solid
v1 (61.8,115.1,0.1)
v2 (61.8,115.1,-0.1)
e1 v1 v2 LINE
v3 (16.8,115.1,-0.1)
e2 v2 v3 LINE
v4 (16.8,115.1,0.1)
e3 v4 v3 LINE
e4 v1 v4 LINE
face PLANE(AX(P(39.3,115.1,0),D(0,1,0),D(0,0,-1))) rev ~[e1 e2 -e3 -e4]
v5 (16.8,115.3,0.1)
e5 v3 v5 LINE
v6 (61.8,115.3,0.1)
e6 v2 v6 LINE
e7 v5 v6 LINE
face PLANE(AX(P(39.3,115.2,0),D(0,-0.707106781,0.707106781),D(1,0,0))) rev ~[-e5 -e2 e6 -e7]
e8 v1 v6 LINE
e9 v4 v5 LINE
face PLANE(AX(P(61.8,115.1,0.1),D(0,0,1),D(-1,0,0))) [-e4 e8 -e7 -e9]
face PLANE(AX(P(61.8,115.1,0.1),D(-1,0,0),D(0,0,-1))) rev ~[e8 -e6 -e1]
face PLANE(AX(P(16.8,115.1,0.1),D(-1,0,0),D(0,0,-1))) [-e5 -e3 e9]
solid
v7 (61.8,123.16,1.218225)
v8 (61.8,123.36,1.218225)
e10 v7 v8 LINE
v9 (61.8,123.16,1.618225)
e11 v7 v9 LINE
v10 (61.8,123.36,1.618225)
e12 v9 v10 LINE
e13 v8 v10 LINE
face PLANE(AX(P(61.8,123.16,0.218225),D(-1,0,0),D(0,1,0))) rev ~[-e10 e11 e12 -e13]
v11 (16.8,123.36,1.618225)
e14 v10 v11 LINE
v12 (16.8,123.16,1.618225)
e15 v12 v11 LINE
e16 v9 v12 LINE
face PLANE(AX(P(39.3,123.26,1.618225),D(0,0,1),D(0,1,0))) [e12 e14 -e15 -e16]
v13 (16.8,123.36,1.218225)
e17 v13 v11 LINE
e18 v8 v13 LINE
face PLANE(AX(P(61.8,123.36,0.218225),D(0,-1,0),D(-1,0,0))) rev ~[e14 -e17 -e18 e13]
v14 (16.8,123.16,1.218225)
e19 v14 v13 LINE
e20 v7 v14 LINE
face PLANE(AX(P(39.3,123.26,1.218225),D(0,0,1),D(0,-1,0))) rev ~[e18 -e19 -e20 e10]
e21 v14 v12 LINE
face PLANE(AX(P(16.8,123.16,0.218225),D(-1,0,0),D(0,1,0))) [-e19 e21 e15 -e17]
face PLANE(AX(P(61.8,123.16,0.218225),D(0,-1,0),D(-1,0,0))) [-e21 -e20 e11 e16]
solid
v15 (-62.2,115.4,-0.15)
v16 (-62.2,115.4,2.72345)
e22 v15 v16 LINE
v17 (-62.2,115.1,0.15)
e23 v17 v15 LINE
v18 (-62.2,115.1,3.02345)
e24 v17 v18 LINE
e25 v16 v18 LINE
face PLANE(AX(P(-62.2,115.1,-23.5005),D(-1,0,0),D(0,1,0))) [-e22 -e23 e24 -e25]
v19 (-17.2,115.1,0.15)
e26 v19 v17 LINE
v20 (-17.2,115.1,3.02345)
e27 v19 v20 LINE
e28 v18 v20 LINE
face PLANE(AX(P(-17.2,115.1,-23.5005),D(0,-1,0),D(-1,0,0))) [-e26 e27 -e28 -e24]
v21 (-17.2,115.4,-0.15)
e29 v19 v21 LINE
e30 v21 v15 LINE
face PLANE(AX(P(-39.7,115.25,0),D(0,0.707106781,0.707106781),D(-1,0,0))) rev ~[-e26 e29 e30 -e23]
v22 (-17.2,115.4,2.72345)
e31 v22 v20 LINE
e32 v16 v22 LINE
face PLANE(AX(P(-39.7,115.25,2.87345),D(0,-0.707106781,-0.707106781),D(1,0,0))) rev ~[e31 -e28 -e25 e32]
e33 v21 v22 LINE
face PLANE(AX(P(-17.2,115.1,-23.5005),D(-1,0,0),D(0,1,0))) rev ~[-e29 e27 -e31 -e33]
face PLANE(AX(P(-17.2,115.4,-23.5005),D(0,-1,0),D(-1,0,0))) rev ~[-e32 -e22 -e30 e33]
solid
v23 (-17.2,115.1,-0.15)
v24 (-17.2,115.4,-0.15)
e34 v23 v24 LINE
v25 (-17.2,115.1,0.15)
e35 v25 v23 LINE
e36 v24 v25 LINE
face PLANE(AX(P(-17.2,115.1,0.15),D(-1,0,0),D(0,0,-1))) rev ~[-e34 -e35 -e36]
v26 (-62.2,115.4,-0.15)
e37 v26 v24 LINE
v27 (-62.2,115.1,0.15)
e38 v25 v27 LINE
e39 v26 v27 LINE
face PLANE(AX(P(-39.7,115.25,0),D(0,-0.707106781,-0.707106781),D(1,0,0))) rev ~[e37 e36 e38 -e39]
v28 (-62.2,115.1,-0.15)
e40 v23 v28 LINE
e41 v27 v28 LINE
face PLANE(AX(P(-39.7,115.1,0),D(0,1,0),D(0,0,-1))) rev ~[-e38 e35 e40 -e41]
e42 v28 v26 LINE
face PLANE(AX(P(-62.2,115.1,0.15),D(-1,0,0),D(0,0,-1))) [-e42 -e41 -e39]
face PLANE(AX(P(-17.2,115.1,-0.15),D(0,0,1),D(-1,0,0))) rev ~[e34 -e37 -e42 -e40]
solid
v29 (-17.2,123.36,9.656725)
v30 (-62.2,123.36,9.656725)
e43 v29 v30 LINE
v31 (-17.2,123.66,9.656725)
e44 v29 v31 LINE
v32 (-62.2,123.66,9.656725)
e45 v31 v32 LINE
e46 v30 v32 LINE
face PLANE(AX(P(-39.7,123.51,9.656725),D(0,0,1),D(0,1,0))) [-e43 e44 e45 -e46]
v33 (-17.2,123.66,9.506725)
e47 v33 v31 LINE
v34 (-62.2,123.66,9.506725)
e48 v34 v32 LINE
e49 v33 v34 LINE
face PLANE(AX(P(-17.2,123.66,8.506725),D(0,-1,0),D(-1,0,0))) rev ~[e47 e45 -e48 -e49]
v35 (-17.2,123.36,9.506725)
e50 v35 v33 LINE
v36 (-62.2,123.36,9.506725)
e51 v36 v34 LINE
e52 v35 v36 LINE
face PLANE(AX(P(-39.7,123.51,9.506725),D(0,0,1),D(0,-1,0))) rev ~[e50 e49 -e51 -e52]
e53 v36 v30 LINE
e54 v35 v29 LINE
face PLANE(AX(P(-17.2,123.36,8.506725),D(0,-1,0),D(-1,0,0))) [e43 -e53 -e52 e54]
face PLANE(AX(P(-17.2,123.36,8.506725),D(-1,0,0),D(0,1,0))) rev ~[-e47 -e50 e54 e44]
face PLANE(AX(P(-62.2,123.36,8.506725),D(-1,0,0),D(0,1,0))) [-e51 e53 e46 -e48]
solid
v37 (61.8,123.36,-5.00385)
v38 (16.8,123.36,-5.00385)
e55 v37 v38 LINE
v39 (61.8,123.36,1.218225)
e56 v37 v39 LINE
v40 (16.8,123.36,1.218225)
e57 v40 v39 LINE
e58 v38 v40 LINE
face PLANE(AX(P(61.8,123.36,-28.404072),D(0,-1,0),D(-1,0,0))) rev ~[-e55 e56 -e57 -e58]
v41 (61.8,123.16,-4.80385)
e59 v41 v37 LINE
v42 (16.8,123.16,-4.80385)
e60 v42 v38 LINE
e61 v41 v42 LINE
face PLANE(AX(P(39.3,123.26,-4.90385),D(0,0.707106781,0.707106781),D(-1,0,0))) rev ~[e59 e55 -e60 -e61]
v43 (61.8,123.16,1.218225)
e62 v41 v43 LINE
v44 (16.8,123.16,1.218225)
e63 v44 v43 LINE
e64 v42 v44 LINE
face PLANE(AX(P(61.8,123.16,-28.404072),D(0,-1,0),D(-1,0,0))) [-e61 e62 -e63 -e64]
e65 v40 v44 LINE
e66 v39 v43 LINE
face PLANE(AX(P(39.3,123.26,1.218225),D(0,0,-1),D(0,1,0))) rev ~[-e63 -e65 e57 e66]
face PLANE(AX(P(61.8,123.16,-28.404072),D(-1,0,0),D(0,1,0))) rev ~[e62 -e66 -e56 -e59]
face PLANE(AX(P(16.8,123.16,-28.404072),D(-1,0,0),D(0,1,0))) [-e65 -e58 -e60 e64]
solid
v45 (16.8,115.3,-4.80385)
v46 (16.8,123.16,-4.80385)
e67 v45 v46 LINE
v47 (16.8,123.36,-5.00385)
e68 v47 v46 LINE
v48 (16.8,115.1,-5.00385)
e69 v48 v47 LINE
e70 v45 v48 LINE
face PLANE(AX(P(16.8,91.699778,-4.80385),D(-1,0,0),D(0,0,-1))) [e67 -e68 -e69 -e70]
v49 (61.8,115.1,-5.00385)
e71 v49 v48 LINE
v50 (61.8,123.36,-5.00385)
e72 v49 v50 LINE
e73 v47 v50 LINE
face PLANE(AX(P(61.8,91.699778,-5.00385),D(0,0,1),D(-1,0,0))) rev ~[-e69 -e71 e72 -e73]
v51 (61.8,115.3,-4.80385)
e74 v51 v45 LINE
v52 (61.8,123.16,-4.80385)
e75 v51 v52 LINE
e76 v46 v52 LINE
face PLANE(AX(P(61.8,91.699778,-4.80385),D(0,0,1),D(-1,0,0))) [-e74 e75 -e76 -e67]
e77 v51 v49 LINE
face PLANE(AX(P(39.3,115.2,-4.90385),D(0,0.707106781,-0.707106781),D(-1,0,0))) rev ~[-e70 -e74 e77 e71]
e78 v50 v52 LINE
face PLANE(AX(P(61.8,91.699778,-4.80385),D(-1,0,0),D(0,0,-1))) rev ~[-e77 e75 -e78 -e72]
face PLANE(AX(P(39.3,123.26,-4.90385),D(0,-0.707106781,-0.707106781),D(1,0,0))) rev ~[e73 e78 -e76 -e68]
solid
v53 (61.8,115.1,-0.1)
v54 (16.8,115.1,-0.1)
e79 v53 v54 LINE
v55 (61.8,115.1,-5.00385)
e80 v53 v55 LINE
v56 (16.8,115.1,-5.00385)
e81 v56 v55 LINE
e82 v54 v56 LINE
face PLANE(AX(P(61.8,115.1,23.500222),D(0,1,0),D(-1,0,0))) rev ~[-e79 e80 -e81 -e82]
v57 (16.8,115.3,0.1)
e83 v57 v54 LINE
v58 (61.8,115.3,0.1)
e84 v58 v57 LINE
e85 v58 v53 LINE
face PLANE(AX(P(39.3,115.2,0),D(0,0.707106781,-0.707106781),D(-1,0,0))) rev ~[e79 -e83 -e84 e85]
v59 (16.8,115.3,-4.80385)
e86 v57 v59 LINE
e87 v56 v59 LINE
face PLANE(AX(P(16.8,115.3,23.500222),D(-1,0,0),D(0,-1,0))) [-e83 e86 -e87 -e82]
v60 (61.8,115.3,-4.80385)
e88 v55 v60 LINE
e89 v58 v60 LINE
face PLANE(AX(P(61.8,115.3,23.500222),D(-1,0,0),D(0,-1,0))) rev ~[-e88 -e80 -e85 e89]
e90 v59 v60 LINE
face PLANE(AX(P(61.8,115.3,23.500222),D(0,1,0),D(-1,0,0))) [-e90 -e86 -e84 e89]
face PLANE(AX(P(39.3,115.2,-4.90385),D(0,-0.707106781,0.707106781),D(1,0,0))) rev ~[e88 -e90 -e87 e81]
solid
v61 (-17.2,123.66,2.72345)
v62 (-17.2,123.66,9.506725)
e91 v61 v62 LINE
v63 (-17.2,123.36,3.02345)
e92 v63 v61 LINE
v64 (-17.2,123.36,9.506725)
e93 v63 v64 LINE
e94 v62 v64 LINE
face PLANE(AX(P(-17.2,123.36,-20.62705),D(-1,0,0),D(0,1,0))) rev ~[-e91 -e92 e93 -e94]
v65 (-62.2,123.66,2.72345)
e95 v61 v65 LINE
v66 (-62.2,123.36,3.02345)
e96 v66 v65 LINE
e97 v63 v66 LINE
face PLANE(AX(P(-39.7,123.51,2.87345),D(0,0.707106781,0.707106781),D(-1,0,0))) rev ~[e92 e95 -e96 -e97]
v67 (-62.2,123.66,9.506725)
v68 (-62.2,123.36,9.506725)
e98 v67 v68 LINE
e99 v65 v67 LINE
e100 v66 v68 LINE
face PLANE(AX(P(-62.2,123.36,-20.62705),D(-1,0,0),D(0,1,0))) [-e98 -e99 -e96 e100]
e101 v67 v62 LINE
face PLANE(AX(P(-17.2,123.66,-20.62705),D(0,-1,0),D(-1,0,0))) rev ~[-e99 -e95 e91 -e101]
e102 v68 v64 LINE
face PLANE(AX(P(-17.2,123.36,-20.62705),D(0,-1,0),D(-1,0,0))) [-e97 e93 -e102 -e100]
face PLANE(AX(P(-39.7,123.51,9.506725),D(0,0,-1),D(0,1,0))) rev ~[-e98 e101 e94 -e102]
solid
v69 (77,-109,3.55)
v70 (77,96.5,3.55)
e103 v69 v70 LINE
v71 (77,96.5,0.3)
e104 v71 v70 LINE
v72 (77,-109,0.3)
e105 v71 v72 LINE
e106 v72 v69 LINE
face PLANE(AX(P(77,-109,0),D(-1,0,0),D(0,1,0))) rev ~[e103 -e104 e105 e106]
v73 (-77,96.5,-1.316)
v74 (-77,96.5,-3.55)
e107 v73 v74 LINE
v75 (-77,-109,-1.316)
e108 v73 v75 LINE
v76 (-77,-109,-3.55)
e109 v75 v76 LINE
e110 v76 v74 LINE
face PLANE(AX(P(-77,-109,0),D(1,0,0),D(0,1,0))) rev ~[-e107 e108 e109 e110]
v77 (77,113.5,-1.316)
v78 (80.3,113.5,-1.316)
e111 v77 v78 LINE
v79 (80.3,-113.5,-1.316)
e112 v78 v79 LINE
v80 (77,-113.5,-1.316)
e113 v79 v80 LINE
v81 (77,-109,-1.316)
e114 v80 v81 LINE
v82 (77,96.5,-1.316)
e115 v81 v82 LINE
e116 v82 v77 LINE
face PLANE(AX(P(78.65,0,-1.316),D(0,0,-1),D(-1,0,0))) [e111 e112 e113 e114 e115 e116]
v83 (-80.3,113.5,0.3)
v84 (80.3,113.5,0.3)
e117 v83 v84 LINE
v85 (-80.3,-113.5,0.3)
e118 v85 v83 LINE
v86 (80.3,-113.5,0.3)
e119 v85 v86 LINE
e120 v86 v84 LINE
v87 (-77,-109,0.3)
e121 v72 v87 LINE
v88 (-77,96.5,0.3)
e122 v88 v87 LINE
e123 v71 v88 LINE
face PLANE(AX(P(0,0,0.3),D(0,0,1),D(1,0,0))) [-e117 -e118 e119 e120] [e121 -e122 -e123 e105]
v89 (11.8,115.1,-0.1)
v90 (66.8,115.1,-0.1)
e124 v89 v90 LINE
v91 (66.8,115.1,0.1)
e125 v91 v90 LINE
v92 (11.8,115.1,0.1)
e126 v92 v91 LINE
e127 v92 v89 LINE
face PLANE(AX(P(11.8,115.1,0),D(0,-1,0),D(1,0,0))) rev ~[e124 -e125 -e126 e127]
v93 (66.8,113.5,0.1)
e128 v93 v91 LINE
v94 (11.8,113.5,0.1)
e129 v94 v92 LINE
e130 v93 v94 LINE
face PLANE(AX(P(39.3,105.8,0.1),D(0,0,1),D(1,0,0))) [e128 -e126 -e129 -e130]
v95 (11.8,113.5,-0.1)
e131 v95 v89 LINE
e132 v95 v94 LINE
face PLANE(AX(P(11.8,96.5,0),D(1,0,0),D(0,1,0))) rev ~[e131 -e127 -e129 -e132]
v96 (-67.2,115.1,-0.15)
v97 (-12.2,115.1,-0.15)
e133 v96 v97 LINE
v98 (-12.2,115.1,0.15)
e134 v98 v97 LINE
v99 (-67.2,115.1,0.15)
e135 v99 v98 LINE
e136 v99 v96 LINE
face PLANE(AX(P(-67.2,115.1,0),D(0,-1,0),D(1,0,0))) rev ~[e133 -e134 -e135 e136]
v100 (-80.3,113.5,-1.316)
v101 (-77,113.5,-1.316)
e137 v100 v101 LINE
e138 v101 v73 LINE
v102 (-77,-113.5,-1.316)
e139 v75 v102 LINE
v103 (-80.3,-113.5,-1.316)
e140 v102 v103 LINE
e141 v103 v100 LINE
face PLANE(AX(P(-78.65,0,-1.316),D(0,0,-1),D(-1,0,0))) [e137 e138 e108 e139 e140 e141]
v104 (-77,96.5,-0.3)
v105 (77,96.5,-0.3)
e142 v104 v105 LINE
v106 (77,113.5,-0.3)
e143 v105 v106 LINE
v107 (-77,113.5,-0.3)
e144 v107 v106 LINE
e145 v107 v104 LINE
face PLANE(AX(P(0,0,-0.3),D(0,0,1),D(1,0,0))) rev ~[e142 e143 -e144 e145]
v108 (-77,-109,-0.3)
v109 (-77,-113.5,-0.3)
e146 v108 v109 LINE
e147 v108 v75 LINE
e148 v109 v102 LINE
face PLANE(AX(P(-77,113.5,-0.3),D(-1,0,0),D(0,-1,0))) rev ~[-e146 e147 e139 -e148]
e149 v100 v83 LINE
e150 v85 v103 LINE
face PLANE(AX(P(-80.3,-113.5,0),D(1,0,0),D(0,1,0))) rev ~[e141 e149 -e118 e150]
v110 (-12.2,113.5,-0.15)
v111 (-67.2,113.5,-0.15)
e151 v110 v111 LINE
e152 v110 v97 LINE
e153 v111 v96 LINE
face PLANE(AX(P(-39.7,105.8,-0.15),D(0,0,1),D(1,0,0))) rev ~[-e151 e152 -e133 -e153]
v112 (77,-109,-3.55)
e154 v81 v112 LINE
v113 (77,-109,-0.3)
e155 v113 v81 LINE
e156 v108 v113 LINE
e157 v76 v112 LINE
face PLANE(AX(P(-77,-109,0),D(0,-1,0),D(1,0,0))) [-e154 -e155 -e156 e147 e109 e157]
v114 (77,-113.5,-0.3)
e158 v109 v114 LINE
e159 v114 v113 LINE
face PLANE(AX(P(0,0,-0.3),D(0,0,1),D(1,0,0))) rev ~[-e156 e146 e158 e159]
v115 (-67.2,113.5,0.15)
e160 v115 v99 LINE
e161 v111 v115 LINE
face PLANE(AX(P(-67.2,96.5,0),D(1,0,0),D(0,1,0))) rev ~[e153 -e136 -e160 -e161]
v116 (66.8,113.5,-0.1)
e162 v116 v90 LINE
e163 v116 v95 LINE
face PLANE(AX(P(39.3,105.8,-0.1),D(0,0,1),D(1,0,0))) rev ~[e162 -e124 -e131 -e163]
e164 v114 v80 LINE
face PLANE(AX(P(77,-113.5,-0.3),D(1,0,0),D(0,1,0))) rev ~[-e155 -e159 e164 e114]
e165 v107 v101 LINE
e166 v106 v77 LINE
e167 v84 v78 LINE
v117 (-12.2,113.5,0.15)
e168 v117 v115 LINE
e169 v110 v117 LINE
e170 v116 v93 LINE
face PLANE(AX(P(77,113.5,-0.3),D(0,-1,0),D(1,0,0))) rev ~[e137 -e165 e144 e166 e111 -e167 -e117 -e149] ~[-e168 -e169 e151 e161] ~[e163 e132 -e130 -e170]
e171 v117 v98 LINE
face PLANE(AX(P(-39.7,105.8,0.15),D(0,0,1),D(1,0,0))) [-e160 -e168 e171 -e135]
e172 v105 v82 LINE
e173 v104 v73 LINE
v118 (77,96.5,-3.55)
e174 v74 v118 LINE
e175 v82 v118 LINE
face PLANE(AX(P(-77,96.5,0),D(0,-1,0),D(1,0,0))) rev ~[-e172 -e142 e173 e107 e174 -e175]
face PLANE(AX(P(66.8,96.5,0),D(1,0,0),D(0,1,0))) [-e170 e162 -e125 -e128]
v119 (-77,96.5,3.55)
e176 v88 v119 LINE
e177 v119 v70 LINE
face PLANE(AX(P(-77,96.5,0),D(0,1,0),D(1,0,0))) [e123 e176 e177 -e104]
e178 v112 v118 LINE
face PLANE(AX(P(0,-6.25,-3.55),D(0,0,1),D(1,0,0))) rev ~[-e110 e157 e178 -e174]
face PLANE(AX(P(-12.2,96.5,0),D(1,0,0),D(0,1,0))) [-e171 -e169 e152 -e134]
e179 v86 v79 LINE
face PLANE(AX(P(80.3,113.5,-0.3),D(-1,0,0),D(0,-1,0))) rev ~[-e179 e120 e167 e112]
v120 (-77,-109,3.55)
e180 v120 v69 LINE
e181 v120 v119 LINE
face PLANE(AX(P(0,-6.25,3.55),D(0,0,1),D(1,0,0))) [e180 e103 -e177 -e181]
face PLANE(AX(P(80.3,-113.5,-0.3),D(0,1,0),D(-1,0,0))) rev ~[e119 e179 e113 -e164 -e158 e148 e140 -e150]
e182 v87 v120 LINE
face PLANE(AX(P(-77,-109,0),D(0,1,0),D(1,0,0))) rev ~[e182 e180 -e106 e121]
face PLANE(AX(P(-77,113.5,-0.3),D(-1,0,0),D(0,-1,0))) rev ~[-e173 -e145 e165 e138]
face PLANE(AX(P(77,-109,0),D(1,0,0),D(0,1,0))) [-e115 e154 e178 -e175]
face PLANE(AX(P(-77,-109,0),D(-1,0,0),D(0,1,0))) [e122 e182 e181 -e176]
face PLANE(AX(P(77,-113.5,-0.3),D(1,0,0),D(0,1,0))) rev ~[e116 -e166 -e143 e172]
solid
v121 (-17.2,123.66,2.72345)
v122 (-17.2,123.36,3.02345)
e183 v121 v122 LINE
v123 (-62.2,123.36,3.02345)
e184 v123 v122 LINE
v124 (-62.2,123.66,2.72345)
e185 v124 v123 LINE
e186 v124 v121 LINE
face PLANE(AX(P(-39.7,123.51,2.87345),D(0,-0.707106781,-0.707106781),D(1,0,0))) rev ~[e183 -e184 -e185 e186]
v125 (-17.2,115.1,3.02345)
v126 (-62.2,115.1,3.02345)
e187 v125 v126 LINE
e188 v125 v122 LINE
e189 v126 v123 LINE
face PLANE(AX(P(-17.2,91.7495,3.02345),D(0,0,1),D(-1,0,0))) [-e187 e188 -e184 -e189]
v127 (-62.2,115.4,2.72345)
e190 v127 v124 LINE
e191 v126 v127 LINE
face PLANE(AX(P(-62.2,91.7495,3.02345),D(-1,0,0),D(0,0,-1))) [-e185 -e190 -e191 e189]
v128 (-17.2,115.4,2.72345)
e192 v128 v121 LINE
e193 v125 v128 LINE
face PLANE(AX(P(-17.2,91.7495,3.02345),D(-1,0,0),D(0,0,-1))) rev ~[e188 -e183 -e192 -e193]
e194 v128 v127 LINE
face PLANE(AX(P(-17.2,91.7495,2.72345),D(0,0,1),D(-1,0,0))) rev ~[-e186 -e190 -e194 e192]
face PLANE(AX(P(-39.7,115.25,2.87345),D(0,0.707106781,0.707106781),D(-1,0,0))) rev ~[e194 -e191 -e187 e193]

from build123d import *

# Parameters (mm, degrees)
SKETCH1_W                    = 160.6
SKETCH1_H                    = 227
INSULATION_DEPTH             = 0.3
INSULATION_DEPTH_BACK        = 0.3
SKETCH2_W                    = 154
SKETCH2_H                    = 205.5
MAIN_BODY_DEPTH              = 3.55
MAIN_BODY_DEPTH_BACK         = 3.55
SIDE_FOLDS_DEPTH             = 1.016
SKETCH6_W                    = 55
SKETCH6_H                    = 18.6
NEGATIVE_TAB_BASE_DEPTH      = 0.1
NEGATIVE_TAB_BASE_DEPTH_BACK = 0.1
SKETCH7_W                    = 55
SKETCH7_H                    = 18.6
POSITIVE_TAB_BASE_DEPTH      = 0.15
POSITIVE_TAB_BASE_DEPTH_BACK = 0.15
SKETCH110_W                  = 0.3
SKETCH110_H                  = 45
POSITIVE_TAB_DEPTH           = 23.650499994
SKETCH110_ON_SEGMENT_2_W     = 0.3
SKETCH110_ON_SEGMENT_2_H     = 45
POSITIVE_TAB_2_DEPTH         = 49.874449989
SKETCH110_ON_SEGMENT_3_W     = 0.3
SKETCH110_ON_SEGMENT_3_H     = 45
POSITIVE_TAB_3_DEPTH         = 55.260999989
SKETCH110_ON_SEGMENT_4_W     = 0.3
SKETCH110_ON_SEGMENT_4_H     = 45
POSITIVE_TAB_4_DEPTH         = 31.133774994
SKETCH110_ON_SEGMENT_5_W     = 0.3
SKETCH110_ON_SEGMENT_5_H     = 45
POSITIVE_TAB_5_DEPTH         = 1.15
SKETCH113_W                  = 0.2
SKETCH113_H                  = 45
NEGATIVE_TAB_DEPTH           = 23.600222221
SKETCH113_ON_SEGMENT_2_W     = 0.2
SKETCH113_ON_SEGMENT_2_H     = 45
NEGATIVE_TAB_2_DEPTH         = 51.904294442
SKETCH113_ON_SEGMENT_3_W     = 0.2
SKETCH113_ON_SEGMENT_3_H     = 45
NEGATIVE_TAB_3_DEPTH         = 55.060444442
SKETCH113_ON_SEGMENT_4_W     = 0.2
SKETCH113_ON_SEGMENT_4_H     = 45
NEGATIVE_TAB_4_DEPTH         = 30.622297221
SKETCH113_ON_SEGMENT_5_W     = 0.2
SKETCH113_ON_SEGMENT_5_H     = 45
NEGATIVE_TAB_5_DEPTH         = 1.4


with BuildPart() as part:
    # Sketch1 → Insulation (new, two sides)
    with BuildSketch(Plane.XY) as insulation_sk:
        Rectangle(SKETCH1_W, SKETCH1_H)
    extrude(amount=INSULATION_DEPTH)
    extrude(insulation_sk.sketch, amount=-INSULATION_DEPTH_BACK)

    # Sketch2 → Main Body (add, two sides)
    with BuildSketch(Plane.XY) as main_body_sk:
        with Locations((0, -6.25)):
            Rectangle(SKETCH2_W, SKETCH2_H)
    extrude(amount=MAIN_BODY_DEPTH)
    extrude(main_body_sk.sketch, amount=-MAIN_BODY_DEPTH_BACK)

    # Sketch5 → Side Folds (add)
    with BuildSketch(Plane(origin=(0, 0, -0.3), x_dir=(-1, 0, 0), z_dir=(0, 0, -1))):
        Polygon((-77, -109), (-77, 96.5), (-77, 113.5), (-80.3, 113.5), (-80.3, -113.5), (-77, -113.5), align=None)
        Polygon((77, 113.5), (77, 96.5), (77, -109), (77, -113.5), (80.3, -113.5), (80.3, 113.5), align=None)
    extrude(amount=SIDE_FOLDS_DEPTH)

    # Sketch6 → Negative Tab Base (add, two sides)
    with BuildSketch(Plane.XY) as negative_tab_base_sk:
        with Locations((39.3, 105.8)):
            Rectangle(SKETCH6_W, SKETCH6_H)
    extrude(amount=NEGATIVE_TAB_BASE_DEPTH)
    extrude(negative_tab_base_sk.sketch, amount=-NEGATIVE_TAB_BASE_DEPTH_BACK)

    # Sketch7 → Positive Tab Base (add, two sides)
    with BuildSketch(Plane.XY) as positive_tab_base_sk:
        with Locations((-39.7, 105.8)):
            Rectangle(SKETCH7_W, SKETCH7_H)
    extrude(amount=POSITIVE_TAB_BASE_DEPTH)
    extrude(positive_tab_base_sk.sketch, amount=-POSITIVE_TAB_BASE_DEPTH_BACK)


with BuildPart() as body_2:
    # Sketch110 → Positive Tab (new body)
    with BuildSketch(Plane(origin=(-39.7, 115.1, 0), x_dir=(0, 0, -1), z_dir=(0, 1, 0))):
        Rectangle(SKETCH110_W, SKETCH110_H)
    extrude(amount=POSITIVE_TAB_DEPTH)

    # Positive Tab mitre 1
    split(bisect_by=Plane(origin=(-39.7, 115.25, 0), x_dir=(1, 0, 0), z_dir=(0, -0.707106781, -0.707106781)), keep=Keep.TOP)


with BuildPart() as body_3:
    # Sketch110 on segment 2 (carried to segment 2) → Positive Tab 2 (new body)
    with BuildSketch(Plane(origin=(-39.7, 115.25, -23.500499994), x_dir=(0, 1, 0), z_dir=(0, 0, 1))):
        Rectangle(SKETCH110_ON_SEGMENT_2_W, SKETCH110_ON_SEGMENT_2_H)
    extrude(amount=POSITIVE_TAB_2_DEPTH)

    # Positive Tab 2 mitre 1
    split(bisect_by=Plane(origin=(-39.7, 115.25, 0), x_dir=(-1, 0, 0), z_dir=(0, 0.707106781, 0.707106781)), keep=Keep.TOP)

    # Positive Tab 2 mitre 2
    split(bisect_by=Plane(origin=(-39.7, 115.25, 2.87345), x_dir=(1, 0, 0), z_dir=(0, -0.707106781, -0.707106781)), keep=Keep.TOP)


with BuildPart() as body_4:
    # Sketch110 on segment 3 (carried to segment 3) → Positive Tab 3 (new body)
    with BuildSketch(Plane(origin=(-39.7, 91.749500006, 2.87345), x_dir=(0, 0, -1), z_dir=(0, 1, 0))):
        Rectangle(SKETCH110_ON_SEGMENT_3_W, SKETCH110_ON_SEGMENT_3_H)
    extrude(amount=POSITIVE_TAB_3_DEPTH)

    # Positive Tab 3 mitre 1
    split(bisect_by=Plane(origin=(-39.7, 115.25, 2.87345), x_dir=(-1, 0, 0), z_dir=(0, 0.707106781, 0.707106781)), keep=Keep.TOP)

    # Positive Tab 3 mitre 2
    split(bisect_by=Plane(origin=(-39.7, 123.51, 2.87345), x_dir=(1, 0, 0), z_dir=(0, -0.707106781, -0.707106781)), keep=Keep.TOP)


with BuildPart() as body_5:
    # Sketch110 on segment 4 (carried to segment 4) → Positive Tab 4 (new body)
    with BuildSketch(Plane(origin=(-39.7, 123.51, -20.627049994), x_dir=(0, 1, 0), z_dir=(0, 0, 1))):
        Rectangle(SKETCH110_ON_SEGMENT_4_W, SKETCH110_ON_SEGMENT_4_H)
    extrude(amount=POSITIVE_TAB_4_DEPTH)

    # Positive Tab 4 mitre 1
    split(bisect_by=Plane(origin=(-39.7, 123.51, 2.87345), x_dir=(-1, 0, 0), z_dir=(0, 0.707106781, 0.707106781)), keep=Keep.TOP)

    # Positive Tab 4 mitre 2
    split(bisect_by=Plane(origin=(-39.7, 123.51, 9.506725), x_dir=(0, 1, 0), z_dir=(0, 0, -1)), keep=Keep.TOP)


with BuildPart() as body_6:
    # Sketch110 on segment 5 (carried to segment 5) → Positive Tab 5 (new body)
    with BuildSketch(Plane(origin=(-39.7, 123.51, 8.506725), x_dir=(0, 1, 0), z_dir=(0, 0, 1))):
        Rectangle(SKETCH110_ON_SEGMENT_5_W, SKETCH110_ON_SEGMENT_5_H)
    extrude(amount=POSITIVE_TAB_5_DEPTH)

    # Positive Tab 5 mitre 1
    split(bisect_by=Plane(origin=(-39.7, 123.51, 9.506725), x_dir=(0, -1, 0), z_dir=(0, 0, 1)), keep=Keep.TOP)


with BuildPart() as body_7:
    # Sketch113 → Negative Tab (new body)
    with BuildSketch(Plane(origin=(39.3, 115.1, 0), x_dir=(0, 0, -1), z_dir=(0, 1, 0))):
        Rectangle(SKETCH113_W, SKETCH113_H)
    extrude(amount=NEGATIVE_TAB_DEPTH)

    # Negative Tab mitre 1
    split(bisect_by=Plane(origin=(39.3, 115.2, 0), x_dir=(1, 0, 0), z_dir=(0, -0.707106781, 0.707106781)), keep=Keep.TOP)


with BuildPart() as body_8:
    # Sketch113 on segment 2 (carried to segment 2) → Negative Tab 2 (new body)
    with BuildSketch(Plane(origin=(39.3, 115.2, 23.500222221), x_dir=(0, -1, 0), z_dir=(0, 0, -1))):
        Rectangle(SKETCH113_ON_SEGMENT_2_W, SKETCH113_ON_SEGMENT_2_H)
    extrude(amount=NEGATIVE_TAB_2_DEPTH)

    # Negative Tab 2 mitre 1
    split(bisect_by=Plane(origin=(39.3, 115.2, 0), x_dir=(-1, 0, 0), z_dir=(0, 0.707106781, -0.707106781)), keep=Keep.TOP)

    # Negative Tab 2 mitre 2
    split(bisect_by=Plane(origin=(39.3, 115.2, -4.90385), x_dir=(1, 0, 0), z_dir=(0, -0.707106781, 0.707106781)), keep=Keep.TOP)


with BuildPart() as body_9:
    # Sketch113 on segment 3 (carried to segment 3) → Negative Tab 3 (new body)
    with BuildSketch(Plane(origin=(39.3, 91.699777779, -4.90385), x_dir=(0, 0, -1), z_dir=(0, 1, 0))):
        Rectangle(SKETCH113_ON_SEGMENT_3_W, SKETCH113_ON_SEGMENT_3_H)
    extrude(amount=NEGATIVE_TAB_3_DEPTH)

    # Negative Tab 3 mitre 1
    split(bisect_by=Plane(origin=(39.3, 115.2, -4.90385), x_dir=(-1, 0, 0), z_dir=(0, 0.707106781, -0.707106781)), keep=Keep.TOP)

    # Negative Tab 3 mitre 2
    split(bisect_by=Plane(origin=(39.3, 123.26, -4.90385), x_dir=(1, 0, 0), z_dir=(0, -0.707106781, -0.707106781)), keep=Keep.TOP)


with BuildPart() as body_10:
    # Sketch113 on segment 4 (carried to segment 4) → Negative Tab 4 (new body)
    with BuildSketch(Plane(origin=(39.3, 123.26, -28.404072221), x_dir=(0, 1, 0), z_dir=(0, 0, 1))):
        Rectangle(SKETCH113_ON_SEGMENT_4_W, SKETCH113_ON_SEGMENT_4_H)
    extrude(amount=NEGATIVE_TAB_4_DEPTH)

    # Negative Tab 4 mitre 1
    split(bisect_by=Plane(origin=(39.3, 123.26, -4.90385), x_dir=(-1, 0, 0), z_dir=(0, 0.707106781, 0.707106781)), keep=Keep.TOP)

    # Negative Tab 4 mitre 2
    split(bisect_by=Plane(origin=(39.3, 123.26, 1.218225), x_dir=(0, 1, 0), z_dir=(0, 0, -1)), keep=Keep.TOP)


with BuildPart() as body_11:
    # Sketch113 on segment 5 (carried to segment 5) → Negative Tab 5 (new body)
    with BuildSketch(Plane(origin=(39.3, 123.26, 0.218225), x_dir=(0, 1, 0), z_dir=(0, 0, 1))):
        Rectangle(SKETCH113_ON_SEGMENT_5_W, SKETCH113_ON_SEGMENT_5_H)
    extrude(amount=NEGATIVE_TAB_5_DEPTH)

    # Negative Tab 5 mitre 1
    split(bisect_by=Plane(origin=(39.3, 123.26, 1.218225), x_dir=(0, -1, 0), z_dir=(0, 0, 1)), keep=Keep.TOP)


solid = Compound([part.part, body_2.part, body_3.part, body_4.part, body_5.part, body_6.part, body_7.part, body_8.part, body_9.part, body_10.part, body_11.part])
